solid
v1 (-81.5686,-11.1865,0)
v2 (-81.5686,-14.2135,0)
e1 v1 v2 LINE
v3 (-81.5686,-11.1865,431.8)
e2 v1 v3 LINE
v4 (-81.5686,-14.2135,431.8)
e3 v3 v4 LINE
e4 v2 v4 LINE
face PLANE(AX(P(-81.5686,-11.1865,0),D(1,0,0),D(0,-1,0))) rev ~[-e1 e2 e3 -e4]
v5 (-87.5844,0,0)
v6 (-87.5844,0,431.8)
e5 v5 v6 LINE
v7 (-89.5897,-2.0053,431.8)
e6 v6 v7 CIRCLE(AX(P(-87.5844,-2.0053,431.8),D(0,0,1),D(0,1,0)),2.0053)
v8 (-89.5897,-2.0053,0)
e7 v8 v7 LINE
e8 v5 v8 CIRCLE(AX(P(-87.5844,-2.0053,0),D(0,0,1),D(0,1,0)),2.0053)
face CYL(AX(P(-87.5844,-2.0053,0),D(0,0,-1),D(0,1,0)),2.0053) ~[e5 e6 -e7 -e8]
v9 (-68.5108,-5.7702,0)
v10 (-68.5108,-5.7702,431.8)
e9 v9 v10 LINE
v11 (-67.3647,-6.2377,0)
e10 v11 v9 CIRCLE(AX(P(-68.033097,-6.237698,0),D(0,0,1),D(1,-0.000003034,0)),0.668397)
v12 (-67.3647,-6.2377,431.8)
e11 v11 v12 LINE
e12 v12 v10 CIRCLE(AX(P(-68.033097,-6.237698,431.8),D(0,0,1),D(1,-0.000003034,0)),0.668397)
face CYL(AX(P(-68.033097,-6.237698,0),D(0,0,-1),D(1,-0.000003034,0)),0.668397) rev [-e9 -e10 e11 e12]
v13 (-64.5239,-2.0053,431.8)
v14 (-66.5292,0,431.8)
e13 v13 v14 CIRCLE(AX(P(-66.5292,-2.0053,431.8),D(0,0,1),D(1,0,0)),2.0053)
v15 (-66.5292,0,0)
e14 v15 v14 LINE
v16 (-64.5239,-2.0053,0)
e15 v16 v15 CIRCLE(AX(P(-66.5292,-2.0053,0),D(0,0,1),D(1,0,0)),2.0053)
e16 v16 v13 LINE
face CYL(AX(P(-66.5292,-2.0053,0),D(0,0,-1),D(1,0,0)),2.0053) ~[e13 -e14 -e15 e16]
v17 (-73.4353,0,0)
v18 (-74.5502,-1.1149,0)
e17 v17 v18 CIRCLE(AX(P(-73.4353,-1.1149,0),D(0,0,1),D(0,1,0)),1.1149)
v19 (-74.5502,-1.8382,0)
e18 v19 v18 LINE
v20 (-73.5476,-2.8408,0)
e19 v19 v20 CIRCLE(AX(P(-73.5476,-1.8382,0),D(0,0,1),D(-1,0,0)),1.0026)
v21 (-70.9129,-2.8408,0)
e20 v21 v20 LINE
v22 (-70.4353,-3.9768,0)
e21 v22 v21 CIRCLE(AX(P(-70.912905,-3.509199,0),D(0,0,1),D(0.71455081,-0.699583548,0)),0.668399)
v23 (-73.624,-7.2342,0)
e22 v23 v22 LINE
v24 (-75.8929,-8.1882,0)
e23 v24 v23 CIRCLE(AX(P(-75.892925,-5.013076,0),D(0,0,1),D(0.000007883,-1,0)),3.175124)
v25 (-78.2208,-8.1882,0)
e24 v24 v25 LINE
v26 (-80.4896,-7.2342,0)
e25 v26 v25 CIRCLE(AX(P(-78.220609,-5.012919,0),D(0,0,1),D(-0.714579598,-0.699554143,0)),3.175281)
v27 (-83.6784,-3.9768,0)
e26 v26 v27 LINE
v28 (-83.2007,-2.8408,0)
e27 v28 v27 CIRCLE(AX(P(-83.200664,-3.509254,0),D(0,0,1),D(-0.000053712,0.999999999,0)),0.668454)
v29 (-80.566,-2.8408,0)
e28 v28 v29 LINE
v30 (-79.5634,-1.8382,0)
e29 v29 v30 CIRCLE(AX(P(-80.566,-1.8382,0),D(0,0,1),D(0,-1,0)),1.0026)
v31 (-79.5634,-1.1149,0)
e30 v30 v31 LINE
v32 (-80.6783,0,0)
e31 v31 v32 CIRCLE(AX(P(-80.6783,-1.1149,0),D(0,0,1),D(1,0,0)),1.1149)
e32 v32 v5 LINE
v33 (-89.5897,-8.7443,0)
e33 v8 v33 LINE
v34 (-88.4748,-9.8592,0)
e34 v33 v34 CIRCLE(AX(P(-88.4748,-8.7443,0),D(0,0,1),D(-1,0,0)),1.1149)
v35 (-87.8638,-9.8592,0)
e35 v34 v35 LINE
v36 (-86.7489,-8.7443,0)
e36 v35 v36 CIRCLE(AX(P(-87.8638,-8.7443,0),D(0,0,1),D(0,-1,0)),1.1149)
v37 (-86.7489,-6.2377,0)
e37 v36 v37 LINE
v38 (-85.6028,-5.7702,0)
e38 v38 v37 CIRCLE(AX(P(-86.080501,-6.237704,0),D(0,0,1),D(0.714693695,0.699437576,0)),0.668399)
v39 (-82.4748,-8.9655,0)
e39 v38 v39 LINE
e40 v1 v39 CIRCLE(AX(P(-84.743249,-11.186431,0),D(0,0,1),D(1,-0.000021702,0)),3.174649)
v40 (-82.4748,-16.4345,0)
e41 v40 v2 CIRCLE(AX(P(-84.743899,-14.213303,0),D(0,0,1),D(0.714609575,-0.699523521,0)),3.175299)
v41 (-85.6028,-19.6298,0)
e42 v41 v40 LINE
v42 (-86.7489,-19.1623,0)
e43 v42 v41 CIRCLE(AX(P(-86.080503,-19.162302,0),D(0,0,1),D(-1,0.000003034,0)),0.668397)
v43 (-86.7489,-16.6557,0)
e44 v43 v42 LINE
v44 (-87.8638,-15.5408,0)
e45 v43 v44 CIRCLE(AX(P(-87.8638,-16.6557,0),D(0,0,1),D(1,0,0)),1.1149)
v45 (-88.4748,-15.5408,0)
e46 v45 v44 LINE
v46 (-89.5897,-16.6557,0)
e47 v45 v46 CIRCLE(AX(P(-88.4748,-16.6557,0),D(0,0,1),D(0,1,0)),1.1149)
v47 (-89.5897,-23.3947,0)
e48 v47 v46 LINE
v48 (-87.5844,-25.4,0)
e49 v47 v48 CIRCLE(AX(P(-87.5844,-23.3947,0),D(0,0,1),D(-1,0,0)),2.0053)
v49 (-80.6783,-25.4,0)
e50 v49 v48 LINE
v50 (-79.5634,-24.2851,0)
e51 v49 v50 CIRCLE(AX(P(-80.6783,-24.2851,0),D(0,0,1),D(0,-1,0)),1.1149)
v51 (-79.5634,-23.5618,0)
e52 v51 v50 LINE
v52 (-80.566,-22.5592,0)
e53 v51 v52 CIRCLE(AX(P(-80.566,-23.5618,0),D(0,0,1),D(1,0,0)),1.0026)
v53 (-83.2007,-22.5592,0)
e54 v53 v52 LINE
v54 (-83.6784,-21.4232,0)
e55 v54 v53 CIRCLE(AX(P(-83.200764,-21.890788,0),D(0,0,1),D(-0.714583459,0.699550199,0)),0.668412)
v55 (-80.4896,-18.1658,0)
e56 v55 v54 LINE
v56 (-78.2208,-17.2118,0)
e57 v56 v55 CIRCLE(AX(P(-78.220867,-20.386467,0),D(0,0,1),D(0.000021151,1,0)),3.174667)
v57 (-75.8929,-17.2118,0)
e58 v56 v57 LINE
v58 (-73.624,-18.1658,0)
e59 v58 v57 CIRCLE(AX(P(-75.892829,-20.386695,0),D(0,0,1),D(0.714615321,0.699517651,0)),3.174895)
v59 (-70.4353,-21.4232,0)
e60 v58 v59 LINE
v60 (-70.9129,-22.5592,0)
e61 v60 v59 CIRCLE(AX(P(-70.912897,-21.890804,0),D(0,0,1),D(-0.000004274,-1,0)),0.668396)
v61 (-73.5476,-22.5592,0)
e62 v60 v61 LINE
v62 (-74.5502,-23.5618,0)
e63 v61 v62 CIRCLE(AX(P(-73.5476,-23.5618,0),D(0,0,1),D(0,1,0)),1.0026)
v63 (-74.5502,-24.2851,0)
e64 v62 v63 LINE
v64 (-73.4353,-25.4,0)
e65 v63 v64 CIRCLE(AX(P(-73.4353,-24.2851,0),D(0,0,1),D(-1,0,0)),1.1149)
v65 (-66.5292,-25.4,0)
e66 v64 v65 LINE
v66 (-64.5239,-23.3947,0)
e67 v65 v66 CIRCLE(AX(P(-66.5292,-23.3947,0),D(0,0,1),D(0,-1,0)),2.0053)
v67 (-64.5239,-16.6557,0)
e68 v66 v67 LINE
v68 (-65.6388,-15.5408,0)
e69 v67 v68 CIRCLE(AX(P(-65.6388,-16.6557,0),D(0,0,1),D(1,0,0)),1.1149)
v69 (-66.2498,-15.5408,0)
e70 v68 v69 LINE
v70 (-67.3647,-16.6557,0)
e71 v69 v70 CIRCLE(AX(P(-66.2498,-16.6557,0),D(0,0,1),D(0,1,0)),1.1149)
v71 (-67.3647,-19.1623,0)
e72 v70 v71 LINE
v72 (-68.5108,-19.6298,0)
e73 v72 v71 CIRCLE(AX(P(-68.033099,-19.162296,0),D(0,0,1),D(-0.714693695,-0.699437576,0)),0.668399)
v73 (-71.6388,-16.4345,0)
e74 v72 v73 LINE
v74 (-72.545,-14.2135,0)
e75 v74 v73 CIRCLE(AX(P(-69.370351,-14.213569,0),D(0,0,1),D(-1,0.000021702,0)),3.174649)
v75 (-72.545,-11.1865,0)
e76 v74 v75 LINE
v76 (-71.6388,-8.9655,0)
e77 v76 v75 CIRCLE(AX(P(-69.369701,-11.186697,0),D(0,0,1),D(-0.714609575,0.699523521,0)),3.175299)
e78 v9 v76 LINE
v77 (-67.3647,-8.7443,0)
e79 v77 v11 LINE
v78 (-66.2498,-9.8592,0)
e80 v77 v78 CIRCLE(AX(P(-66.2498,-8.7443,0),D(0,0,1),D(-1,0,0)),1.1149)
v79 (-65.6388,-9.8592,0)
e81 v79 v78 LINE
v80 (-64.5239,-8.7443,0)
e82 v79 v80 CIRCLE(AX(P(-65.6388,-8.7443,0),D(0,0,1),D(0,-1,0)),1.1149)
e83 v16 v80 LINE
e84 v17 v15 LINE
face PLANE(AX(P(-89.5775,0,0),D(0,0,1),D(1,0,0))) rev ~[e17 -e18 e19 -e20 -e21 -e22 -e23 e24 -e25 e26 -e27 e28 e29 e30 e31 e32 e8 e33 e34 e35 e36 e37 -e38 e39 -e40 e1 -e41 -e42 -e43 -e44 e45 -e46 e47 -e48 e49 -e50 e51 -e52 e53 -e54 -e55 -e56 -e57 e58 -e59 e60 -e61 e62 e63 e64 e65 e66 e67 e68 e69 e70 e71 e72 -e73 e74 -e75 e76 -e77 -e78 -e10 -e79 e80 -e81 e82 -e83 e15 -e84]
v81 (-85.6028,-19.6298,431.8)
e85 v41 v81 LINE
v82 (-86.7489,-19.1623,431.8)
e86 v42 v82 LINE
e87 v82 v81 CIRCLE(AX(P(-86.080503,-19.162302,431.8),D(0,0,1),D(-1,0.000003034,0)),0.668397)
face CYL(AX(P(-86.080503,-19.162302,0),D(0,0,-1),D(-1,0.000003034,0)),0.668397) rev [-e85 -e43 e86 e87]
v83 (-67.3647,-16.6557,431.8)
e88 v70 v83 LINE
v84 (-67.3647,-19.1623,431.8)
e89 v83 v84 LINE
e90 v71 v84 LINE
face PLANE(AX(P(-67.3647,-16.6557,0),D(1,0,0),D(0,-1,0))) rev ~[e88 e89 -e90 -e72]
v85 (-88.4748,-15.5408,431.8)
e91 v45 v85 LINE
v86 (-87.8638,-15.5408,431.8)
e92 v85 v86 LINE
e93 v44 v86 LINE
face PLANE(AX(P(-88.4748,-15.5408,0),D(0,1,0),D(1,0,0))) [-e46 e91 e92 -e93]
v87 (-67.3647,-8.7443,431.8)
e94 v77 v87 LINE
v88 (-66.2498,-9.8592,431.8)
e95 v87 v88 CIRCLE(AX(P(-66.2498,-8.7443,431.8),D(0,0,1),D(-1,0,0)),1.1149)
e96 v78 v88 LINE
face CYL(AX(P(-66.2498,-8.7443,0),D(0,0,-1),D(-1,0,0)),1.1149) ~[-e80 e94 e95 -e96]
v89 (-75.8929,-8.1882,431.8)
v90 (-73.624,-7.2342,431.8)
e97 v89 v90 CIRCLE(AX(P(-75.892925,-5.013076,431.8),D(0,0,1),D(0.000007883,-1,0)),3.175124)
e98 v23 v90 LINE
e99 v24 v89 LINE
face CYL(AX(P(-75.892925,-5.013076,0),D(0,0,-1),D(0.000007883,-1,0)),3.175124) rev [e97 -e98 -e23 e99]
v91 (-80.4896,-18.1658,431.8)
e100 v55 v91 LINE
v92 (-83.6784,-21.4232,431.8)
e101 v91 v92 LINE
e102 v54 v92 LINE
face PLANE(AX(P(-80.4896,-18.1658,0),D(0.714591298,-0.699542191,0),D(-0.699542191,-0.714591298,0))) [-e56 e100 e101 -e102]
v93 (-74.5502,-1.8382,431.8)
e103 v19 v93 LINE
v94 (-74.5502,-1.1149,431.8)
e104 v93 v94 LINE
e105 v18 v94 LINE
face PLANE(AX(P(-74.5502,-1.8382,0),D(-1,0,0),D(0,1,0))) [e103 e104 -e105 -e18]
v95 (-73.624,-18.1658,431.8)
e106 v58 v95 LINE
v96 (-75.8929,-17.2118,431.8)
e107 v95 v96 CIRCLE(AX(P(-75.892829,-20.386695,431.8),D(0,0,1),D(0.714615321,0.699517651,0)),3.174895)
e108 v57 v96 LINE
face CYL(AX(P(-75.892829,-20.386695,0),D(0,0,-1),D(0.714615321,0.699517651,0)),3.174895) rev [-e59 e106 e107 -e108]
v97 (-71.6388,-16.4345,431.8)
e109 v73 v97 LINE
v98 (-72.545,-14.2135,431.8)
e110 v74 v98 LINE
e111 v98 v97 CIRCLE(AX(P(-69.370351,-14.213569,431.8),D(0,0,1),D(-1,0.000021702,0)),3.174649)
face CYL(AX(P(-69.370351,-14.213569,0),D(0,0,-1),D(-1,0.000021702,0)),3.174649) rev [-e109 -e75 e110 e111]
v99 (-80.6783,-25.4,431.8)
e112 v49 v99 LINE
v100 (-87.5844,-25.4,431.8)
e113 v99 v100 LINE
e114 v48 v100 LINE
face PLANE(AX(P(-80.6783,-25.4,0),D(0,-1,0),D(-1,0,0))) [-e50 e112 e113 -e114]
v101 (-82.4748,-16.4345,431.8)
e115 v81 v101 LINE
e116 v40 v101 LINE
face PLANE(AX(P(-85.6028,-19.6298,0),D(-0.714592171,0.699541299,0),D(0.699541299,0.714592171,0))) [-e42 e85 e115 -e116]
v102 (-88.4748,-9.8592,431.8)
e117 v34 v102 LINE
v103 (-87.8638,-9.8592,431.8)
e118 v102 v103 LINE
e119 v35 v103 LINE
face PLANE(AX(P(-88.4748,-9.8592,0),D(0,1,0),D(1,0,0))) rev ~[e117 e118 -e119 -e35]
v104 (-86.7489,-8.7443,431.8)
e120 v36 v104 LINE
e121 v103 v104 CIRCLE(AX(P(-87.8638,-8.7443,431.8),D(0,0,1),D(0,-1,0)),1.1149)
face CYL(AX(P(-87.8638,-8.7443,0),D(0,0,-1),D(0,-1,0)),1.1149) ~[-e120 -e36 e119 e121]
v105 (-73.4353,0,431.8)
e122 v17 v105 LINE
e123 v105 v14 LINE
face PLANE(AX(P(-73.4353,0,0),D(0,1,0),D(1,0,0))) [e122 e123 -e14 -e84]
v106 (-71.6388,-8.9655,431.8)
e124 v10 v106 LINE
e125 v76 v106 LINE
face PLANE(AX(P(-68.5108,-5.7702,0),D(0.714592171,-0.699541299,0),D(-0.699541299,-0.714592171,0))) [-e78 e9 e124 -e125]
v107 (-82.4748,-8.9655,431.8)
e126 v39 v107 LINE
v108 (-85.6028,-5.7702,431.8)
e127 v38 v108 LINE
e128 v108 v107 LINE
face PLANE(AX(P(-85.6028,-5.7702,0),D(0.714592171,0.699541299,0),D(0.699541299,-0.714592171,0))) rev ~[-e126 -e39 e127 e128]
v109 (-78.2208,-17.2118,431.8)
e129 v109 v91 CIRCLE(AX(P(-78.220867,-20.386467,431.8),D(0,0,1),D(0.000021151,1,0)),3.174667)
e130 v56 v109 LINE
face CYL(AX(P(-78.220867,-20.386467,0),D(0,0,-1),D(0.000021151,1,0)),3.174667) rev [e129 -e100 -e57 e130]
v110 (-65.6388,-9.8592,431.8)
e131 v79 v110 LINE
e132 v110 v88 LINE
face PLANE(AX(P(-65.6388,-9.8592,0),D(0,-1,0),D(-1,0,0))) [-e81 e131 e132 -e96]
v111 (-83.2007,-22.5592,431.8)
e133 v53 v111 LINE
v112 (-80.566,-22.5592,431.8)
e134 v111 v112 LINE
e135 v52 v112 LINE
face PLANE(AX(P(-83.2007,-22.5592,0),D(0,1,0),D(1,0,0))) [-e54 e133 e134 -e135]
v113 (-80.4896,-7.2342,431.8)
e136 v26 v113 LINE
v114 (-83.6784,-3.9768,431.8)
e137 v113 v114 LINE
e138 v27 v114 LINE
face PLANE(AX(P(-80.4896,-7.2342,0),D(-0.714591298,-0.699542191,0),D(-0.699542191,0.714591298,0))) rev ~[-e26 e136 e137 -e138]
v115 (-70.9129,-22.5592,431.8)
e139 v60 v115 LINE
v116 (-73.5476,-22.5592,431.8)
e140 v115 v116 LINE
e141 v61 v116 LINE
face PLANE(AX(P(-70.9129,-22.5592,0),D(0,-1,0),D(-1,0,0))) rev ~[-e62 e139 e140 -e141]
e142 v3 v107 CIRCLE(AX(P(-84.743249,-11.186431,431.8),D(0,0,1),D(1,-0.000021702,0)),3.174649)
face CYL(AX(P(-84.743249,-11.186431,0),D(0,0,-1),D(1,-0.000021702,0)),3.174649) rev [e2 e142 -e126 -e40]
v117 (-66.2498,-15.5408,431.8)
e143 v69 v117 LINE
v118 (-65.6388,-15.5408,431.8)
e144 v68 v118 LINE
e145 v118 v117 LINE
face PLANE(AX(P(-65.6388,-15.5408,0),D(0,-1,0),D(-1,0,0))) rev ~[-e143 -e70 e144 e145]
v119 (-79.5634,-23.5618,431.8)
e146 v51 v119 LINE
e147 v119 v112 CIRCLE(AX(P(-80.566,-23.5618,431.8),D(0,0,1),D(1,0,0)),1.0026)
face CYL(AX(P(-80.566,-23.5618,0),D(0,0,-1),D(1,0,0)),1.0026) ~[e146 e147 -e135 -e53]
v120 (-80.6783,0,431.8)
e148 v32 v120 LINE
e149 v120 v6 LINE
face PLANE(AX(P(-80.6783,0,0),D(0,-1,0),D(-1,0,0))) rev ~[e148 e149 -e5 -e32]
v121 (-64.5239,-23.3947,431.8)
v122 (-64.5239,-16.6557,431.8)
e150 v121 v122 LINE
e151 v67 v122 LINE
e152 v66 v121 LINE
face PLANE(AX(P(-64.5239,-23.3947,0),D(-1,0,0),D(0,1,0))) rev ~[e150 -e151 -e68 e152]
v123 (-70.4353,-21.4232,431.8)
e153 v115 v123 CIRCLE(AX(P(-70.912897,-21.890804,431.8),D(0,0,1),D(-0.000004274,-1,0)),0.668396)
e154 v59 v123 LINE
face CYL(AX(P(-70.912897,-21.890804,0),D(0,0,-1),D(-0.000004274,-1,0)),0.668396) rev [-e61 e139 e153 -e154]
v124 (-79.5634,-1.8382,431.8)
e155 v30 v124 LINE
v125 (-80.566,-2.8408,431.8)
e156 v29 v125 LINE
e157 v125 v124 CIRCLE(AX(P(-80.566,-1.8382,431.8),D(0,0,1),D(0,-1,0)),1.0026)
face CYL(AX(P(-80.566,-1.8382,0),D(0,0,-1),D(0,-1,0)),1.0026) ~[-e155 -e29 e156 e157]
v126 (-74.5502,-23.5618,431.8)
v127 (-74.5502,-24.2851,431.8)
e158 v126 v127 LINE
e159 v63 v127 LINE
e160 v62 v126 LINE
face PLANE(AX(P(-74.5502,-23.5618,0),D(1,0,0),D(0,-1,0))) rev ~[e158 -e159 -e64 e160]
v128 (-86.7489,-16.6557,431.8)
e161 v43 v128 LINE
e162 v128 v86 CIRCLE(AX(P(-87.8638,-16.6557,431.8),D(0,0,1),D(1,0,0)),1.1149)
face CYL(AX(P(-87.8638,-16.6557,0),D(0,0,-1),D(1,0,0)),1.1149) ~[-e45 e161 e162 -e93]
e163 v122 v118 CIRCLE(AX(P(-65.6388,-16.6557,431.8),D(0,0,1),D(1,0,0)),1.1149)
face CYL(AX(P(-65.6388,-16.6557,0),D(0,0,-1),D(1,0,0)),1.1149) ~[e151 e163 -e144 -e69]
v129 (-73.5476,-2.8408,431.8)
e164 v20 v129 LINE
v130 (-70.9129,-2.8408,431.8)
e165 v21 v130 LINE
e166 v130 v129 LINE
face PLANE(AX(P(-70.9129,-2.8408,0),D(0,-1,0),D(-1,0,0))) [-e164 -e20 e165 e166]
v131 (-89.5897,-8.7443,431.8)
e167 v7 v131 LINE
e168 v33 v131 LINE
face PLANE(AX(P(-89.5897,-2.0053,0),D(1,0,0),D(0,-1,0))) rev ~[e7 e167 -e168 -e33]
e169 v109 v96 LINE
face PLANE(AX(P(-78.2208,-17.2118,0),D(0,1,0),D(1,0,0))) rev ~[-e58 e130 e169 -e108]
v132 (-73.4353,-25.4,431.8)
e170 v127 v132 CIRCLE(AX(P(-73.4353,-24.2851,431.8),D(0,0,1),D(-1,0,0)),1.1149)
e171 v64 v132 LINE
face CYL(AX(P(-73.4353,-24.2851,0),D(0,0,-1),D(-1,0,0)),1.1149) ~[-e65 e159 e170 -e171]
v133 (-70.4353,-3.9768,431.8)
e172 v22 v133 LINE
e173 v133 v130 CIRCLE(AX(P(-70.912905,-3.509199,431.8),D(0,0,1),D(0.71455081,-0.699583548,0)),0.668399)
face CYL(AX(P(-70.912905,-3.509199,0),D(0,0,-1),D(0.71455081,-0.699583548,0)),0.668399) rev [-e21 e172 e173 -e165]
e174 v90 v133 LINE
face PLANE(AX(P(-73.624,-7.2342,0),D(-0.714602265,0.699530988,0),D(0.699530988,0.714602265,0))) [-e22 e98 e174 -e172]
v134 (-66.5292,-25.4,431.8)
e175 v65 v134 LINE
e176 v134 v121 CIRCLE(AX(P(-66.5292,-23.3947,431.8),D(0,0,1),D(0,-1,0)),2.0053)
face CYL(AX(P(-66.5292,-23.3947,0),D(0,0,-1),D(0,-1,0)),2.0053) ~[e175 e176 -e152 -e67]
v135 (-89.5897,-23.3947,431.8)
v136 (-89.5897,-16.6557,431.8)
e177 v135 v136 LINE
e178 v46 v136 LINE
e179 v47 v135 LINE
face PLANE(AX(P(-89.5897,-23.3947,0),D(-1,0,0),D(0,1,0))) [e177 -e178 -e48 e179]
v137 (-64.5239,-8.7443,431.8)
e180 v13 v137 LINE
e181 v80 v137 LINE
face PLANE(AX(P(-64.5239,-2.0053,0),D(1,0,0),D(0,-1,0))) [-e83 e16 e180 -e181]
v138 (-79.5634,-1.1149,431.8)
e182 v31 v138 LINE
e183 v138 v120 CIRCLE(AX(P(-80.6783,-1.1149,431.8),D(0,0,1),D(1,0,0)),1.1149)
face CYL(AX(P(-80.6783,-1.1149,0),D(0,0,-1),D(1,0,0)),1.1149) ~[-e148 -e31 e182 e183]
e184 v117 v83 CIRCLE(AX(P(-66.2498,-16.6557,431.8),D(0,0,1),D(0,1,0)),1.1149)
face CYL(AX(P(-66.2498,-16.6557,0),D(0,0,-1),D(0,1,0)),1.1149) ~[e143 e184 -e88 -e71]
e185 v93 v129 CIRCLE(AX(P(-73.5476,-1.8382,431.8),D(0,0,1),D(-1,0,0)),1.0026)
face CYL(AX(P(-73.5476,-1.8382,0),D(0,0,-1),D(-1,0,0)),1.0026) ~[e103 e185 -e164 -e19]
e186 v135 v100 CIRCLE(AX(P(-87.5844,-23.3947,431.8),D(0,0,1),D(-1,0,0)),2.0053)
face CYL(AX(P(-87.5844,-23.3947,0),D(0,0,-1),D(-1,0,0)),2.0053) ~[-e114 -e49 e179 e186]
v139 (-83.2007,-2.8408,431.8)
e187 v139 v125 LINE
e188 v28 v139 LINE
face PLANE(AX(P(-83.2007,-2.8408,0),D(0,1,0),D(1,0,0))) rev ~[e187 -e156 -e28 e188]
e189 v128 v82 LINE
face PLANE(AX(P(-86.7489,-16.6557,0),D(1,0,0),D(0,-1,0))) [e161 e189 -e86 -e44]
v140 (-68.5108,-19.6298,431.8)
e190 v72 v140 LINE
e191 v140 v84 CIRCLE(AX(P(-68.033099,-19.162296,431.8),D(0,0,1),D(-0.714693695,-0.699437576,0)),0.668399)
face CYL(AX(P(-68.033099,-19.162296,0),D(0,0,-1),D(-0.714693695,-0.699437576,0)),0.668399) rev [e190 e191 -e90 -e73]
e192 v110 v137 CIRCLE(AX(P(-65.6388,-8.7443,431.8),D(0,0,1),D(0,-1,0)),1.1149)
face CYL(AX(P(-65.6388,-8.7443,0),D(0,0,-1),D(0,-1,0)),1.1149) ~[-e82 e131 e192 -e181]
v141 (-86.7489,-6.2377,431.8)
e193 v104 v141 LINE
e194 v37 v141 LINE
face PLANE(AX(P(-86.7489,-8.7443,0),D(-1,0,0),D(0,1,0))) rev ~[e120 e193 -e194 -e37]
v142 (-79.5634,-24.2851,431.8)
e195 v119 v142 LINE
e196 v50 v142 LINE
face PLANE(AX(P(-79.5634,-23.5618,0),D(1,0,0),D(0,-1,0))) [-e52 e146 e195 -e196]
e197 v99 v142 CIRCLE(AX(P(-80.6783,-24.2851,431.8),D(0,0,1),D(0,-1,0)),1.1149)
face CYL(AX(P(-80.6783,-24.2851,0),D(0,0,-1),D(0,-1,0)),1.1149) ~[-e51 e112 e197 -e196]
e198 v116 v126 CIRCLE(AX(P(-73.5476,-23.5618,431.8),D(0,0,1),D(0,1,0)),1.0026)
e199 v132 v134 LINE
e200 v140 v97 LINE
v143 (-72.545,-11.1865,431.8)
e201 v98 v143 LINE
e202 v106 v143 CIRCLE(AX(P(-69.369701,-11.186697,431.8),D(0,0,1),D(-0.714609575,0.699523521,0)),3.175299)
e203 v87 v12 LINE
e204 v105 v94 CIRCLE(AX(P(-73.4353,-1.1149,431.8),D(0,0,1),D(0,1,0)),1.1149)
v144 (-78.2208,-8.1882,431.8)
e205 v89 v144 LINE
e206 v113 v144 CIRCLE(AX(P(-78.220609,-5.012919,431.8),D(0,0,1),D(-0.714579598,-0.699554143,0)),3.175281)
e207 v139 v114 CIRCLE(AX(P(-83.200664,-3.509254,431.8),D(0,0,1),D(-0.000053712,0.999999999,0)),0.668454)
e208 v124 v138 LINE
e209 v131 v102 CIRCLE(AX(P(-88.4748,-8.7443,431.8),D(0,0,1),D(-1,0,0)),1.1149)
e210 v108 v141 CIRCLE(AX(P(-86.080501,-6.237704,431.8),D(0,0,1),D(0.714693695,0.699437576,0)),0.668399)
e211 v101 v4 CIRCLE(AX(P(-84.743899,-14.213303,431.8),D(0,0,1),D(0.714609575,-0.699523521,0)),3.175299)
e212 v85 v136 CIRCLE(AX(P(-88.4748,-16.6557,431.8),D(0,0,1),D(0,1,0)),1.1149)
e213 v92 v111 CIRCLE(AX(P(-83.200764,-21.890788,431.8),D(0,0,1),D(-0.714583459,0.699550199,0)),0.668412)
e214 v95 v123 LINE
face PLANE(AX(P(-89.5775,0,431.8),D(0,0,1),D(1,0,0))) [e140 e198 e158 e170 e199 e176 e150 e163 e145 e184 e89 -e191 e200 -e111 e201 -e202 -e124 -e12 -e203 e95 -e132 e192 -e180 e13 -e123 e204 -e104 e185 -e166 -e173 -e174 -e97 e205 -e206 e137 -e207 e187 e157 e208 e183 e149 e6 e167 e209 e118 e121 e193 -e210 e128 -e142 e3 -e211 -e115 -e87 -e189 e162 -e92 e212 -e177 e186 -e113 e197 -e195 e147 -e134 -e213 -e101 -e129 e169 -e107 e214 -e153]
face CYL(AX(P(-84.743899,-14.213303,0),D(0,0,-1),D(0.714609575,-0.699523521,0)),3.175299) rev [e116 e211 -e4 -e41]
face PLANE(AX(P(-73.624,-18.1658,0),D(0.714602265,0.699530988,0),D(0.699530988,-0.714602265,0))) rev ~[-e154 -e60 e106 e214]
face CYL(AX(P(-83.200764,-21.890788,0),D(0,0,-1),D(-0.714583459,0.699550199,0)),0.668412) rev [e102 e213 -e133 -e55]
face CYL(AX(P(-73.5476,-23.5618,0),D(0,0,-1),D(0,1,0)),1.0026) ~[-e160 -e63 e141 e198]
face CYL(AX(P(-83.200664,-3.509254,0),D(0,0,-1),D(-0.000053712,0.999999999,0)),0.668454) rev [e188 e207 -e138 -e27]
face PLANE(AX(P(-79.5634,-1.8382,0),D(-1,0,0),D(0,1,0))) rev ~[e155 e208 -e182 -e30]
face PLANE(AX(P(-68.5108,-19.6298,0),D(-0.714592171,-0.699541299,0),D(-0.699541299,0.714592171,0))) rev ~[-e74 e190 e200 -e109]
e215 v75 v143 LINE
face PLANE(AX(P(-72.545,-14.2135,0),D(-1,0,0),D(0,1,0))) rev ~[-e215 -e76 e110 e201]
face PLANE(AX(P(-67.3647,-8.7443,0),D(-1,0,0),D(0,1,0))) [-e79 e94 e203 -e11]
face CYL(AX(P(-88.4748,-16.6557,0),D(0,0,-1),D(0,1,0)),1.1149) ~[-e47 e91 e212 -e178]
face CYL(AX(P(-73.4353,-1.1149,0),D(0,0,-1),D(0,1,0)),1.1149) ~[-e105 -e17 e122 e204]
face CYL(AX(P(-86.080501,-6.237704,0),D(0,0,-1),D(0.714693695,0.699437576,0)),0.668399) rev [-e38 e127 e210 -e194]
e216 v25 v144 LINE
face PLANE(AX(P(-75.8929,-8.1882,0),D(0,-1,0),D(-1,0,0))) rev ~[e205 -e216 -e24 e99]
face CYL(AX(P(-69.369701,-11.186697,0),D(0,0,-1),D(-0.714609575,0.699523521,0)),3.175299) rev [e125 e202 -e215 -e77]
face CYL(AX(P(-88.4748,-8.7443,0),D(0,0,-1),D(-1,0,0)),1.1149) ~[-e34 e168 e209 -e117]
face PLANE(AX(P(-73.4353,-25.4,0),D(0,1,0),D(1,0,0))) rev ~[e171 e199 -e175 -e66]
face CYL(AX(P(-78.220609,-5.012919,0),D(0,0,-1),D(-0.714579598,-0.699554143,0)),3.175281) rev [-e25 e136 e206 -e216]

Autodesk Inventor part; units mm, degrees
ref_plane "YZ Plane" through (0, 0, 0) normal (1, 0, 0) x (0, 1, 0)
ref_plane "XZ Plane" through (0, 0, 0) normal (0, 1, 0) x (-1, 0, 0)
ref_plane "XY Plane" through (0, 0, 0) normal (0, 0, 1) x (1, 0, 0)
ref_plane "Work Plane1" through (-89.5775, 0, 0) normal (0, 0, 1) x (1, 0, 0)
sketch "Sketch1" plane through (-89.5775, 0, 0) normal (0, 0, 1) x (1, 0, 0)
  arc A0 (19.1422, -3.9768) -> (18.6646, -2.8408) centre (18.6646, -3.5092) ccw
  line L0 (15.9535, -7.2342) -> (19.1422, -3.9768)
  line L1 (21.0667, -5.7702) -> (17.9387, -8.9655)
  arc A1 (22.2128, -6.2377) -> (21.0667, -5.7702) centre (21.5444, -6.2377) ccw
  line L2 (25.0536, -2.0053) -> (25.0536, -8.7443)
  line L3 (22.2128, -8.7443) -> (22.2128, -6.2377)
  line L4 (-0.0122, -2.0053) -> (-0.0122, -8.7443)
  arc A2 (3.9747, -5.7702) -> (2.8286, -6.2377) centre (3.497, -6.2377) ccw
  arc A3 (1.9931, 0) -> (-0.0122, -2.0053) centre (1.9931, -2.0053) ccw
  line L5 (8.8992, 0) -> (1.9931, 0)
  arc A4 (7.1027, -16.4345) -> (8.0089, -14.2135) centre (4.8339, -14.2135) ccw
  arc A5 (18.6646, -22.5592) -> (19.1422, -21.4232) centre (18.6646, -21.8908) ccw
  line L6 (15.9535, -18.1658) -> (19.1422, -21.4232)
  arc A6 (21.0667, -19.6298) -> (22.2128, -19.1623) centre (21.5444, -19.1623) ccw
  line L7 (21.0667, -19.6298) -> (17.9387, -16.4345)
  line L8 (22.2128, -16.6557) -> (22.2128, -19.1623)
  line L9 (25.0536, -23.3947) -> (25.0536, -16.6557)
  line L10 (16.1422, 0) -> (23.0483, 0)
  line L11 (18.6646, -2.8408) -> (16.0299, -2.8408)
  arc A7 (22.2128, -8.7443) -> (23.3277, -9.8592) centre (23.3277, -8.7443) ccw
  line L12 (23.9387, -9.8592) -> (23.3277, -9.8592)
  arc A8 (23.9387, -9.8592) -> (25.0536, -8.7443) centre (23.9387, -8.7443) ccw
  arc A9 (6.3768, -2.8408) -> (5.8991, -3.9768) centre (6.3768, -3.5092) ccw
  line L13 (3.9747, -5.7702) -> (7.1027, -8.9655)
  line L14 (9.0879, -7.2342) -> (5.8991, -3.9768)
  arc A10 (2.8286, -19.1623) -> (3.9747, -19.6298) centre (3.497, -19.1623) ccw
  line L15 (-0.0122, -23.3947) -> (-0.0122, -16.6557)
  line L16 (3.9747, -19.6298) -> (7.1027, -16.4345)
  arc A11 (5.8991, -21.4232) -> (6.3768, -22.5592) centre (6.3768, -21.8908) ccw
  line L17 (9.0879, -18.1658) -> (5.8991, -21.4232)
  line L18 (2.8286, -16.6557) -> (2.8286, -19.1623)
  arc A12 (23.0483, -25.4) -> (25.0536, -23.3947) centre (23.0483, -23.3947) ccw
  arc A13 (25.0536, -2.0053) -> (23.0483, 0) centre (23.0483, -2.0053) ccw
  arc A14 (13.6846, -8.1882) -> (15.9535, -7.2342) centre (13.6846, -5.0132) ccw
  line L19 (13.6846, -8.1882) -> (11.3567, -8.1882)
  arc A15 (9.0115, -2.8408) -> (10.0141, -1.8382) centre (9.0115, -1.8382) ccw
  arc A16 (9.0879, -7.2342) -> (11.3567, -8.1882) centre (11.3567, -5.0132) ccw
  arc A17 (17.9387, -8.9655) -> (17.0325, -11.1865) centre (20.2075, -11.1865) ccw
  line L20 (17.0325, -14.2135) -> (17.0325, -11.1865)
  line L21 (6.3768, -2.8408) -> (9.0115, -2.8408)
  line L22 (10.0141, -1.8382) -> (10.0141, -1.1149)
  arc A18 (10.0141, -1.1149) -> (8.8992, 0) centre (8.8992, -1.1149) ccw
  line L23 (2.8286, -8.7443) -> (2.8286, -6.2377)
  arc A19 (1.7137, -9.8592) -> (2.8286, -8.7443) centre (1.7137, -8.7443) ccw
  line L24 (1.1027, -9.8592) -> (1.7137, -9.8592)
  arc A20 (-0.0122, -8.7443) -> (1.1027, -9.8592) centre (1.1027, -8.7443) ccw
  line L25 (6.3768, -22.5592) -> (9.0115, -22.5592)
  arc A21 (10.0141, -23.5618) -> (9.0115, -22.5592) centre (9.0115, -23.5618) ccw
  line L26 (10.0141, -23.5618) -> (10.0141, -24.2851)
  arc A22 (8.8992, -25.4) -> (10.0141, -24.2851) centre (8.8992, -24.2851) ccw
  line L27 (8.8992, -25.4) -> (1.9931, -25.4)
  arc A23 (17.0325, -14.2135) -> (17.9387, -16.4345) centre (20.2075, -14.2135) ccw
  line L28 (23.9387, -15.5408) -> (23.3277, -15.5408)
  arc A24 (23.3277, -15.5408) -> (22.2128, -16.6557) centre (23.3277, -16.6557) ccw
  arc A25 (25.0536, -16.6557) -> (23.9387, -15.5408) centre (23.9387, -16.6557) ccw
  line L29 (16.1422, -25.4) -> (23.0483, -25.4)
  line L30 (18.6646, -22.5592) -> (16.0299, -22.5592)
  line L31 (8.0089, -11.1865) -> (8.0089, -14.2135)
  arc A26 (8.0089, -11.1865) -> (7.1027, -8.9655) centre (4.8339, -11.1865) ccw
  arc A27 (15.0273, -1.8382) -> (16.0299, -2.8408) centre (16.0299, -1.8382) ccw
  line L32 (15.0273, -1.8382) -> (15.0273, -1.1149)
  arc A28 (16.1422, 0) -> (15.0273, -1.1149) centre (16.1422, -1.1149) ccw
  arc A29 (-0.0122, -23.3947) -> (1.9931, -25.4) centre (1.9931, -23.3947) ccw
  arc A30 (11.3567, -17.2118) -> (9.0879, -18.1658) centre (11.3567, -20.3868) ccw
  line L33 (11.3567, -17.2118) -> (13.6846, -17.2118)
  arc A31 (15.9535, -18.1658) -> (13.6846, -17.2118) centre (13.6846, -20.3868) ccw
  arc A32 (16.0299, -22.5592) -> (15.0273, -23.5618) centre (16.0299, -23.5618) ccw
  line L34 (15.0273, -23.5618) -> (15.0273, -24.2851)
  arc A33 (15.0273, -24.2851) -> (16.1422, -25.4) centre (16.1422, -24.2851) ccw
  line L35 (1.1027, -15.5408) -> (1.7137, -15.5408)
  arc A34 (1.1027, -15.5408) -> (-0.0122, -16.6557) centre (1.1027, -16.6557) ccw
  arc A35 (2.8286, -16.6557) -> (1.7137, -15.5408) centre (1.7137, -16.6557) ccw
  point P0 (89.5775, 0)
  point P1 (12.5207, -12.7)
  dimension "d0" = 25.4
extrude "Extrusion1" add sketch "Sketch1" along normal blind 431.8
properties part number "extruded vertical"
